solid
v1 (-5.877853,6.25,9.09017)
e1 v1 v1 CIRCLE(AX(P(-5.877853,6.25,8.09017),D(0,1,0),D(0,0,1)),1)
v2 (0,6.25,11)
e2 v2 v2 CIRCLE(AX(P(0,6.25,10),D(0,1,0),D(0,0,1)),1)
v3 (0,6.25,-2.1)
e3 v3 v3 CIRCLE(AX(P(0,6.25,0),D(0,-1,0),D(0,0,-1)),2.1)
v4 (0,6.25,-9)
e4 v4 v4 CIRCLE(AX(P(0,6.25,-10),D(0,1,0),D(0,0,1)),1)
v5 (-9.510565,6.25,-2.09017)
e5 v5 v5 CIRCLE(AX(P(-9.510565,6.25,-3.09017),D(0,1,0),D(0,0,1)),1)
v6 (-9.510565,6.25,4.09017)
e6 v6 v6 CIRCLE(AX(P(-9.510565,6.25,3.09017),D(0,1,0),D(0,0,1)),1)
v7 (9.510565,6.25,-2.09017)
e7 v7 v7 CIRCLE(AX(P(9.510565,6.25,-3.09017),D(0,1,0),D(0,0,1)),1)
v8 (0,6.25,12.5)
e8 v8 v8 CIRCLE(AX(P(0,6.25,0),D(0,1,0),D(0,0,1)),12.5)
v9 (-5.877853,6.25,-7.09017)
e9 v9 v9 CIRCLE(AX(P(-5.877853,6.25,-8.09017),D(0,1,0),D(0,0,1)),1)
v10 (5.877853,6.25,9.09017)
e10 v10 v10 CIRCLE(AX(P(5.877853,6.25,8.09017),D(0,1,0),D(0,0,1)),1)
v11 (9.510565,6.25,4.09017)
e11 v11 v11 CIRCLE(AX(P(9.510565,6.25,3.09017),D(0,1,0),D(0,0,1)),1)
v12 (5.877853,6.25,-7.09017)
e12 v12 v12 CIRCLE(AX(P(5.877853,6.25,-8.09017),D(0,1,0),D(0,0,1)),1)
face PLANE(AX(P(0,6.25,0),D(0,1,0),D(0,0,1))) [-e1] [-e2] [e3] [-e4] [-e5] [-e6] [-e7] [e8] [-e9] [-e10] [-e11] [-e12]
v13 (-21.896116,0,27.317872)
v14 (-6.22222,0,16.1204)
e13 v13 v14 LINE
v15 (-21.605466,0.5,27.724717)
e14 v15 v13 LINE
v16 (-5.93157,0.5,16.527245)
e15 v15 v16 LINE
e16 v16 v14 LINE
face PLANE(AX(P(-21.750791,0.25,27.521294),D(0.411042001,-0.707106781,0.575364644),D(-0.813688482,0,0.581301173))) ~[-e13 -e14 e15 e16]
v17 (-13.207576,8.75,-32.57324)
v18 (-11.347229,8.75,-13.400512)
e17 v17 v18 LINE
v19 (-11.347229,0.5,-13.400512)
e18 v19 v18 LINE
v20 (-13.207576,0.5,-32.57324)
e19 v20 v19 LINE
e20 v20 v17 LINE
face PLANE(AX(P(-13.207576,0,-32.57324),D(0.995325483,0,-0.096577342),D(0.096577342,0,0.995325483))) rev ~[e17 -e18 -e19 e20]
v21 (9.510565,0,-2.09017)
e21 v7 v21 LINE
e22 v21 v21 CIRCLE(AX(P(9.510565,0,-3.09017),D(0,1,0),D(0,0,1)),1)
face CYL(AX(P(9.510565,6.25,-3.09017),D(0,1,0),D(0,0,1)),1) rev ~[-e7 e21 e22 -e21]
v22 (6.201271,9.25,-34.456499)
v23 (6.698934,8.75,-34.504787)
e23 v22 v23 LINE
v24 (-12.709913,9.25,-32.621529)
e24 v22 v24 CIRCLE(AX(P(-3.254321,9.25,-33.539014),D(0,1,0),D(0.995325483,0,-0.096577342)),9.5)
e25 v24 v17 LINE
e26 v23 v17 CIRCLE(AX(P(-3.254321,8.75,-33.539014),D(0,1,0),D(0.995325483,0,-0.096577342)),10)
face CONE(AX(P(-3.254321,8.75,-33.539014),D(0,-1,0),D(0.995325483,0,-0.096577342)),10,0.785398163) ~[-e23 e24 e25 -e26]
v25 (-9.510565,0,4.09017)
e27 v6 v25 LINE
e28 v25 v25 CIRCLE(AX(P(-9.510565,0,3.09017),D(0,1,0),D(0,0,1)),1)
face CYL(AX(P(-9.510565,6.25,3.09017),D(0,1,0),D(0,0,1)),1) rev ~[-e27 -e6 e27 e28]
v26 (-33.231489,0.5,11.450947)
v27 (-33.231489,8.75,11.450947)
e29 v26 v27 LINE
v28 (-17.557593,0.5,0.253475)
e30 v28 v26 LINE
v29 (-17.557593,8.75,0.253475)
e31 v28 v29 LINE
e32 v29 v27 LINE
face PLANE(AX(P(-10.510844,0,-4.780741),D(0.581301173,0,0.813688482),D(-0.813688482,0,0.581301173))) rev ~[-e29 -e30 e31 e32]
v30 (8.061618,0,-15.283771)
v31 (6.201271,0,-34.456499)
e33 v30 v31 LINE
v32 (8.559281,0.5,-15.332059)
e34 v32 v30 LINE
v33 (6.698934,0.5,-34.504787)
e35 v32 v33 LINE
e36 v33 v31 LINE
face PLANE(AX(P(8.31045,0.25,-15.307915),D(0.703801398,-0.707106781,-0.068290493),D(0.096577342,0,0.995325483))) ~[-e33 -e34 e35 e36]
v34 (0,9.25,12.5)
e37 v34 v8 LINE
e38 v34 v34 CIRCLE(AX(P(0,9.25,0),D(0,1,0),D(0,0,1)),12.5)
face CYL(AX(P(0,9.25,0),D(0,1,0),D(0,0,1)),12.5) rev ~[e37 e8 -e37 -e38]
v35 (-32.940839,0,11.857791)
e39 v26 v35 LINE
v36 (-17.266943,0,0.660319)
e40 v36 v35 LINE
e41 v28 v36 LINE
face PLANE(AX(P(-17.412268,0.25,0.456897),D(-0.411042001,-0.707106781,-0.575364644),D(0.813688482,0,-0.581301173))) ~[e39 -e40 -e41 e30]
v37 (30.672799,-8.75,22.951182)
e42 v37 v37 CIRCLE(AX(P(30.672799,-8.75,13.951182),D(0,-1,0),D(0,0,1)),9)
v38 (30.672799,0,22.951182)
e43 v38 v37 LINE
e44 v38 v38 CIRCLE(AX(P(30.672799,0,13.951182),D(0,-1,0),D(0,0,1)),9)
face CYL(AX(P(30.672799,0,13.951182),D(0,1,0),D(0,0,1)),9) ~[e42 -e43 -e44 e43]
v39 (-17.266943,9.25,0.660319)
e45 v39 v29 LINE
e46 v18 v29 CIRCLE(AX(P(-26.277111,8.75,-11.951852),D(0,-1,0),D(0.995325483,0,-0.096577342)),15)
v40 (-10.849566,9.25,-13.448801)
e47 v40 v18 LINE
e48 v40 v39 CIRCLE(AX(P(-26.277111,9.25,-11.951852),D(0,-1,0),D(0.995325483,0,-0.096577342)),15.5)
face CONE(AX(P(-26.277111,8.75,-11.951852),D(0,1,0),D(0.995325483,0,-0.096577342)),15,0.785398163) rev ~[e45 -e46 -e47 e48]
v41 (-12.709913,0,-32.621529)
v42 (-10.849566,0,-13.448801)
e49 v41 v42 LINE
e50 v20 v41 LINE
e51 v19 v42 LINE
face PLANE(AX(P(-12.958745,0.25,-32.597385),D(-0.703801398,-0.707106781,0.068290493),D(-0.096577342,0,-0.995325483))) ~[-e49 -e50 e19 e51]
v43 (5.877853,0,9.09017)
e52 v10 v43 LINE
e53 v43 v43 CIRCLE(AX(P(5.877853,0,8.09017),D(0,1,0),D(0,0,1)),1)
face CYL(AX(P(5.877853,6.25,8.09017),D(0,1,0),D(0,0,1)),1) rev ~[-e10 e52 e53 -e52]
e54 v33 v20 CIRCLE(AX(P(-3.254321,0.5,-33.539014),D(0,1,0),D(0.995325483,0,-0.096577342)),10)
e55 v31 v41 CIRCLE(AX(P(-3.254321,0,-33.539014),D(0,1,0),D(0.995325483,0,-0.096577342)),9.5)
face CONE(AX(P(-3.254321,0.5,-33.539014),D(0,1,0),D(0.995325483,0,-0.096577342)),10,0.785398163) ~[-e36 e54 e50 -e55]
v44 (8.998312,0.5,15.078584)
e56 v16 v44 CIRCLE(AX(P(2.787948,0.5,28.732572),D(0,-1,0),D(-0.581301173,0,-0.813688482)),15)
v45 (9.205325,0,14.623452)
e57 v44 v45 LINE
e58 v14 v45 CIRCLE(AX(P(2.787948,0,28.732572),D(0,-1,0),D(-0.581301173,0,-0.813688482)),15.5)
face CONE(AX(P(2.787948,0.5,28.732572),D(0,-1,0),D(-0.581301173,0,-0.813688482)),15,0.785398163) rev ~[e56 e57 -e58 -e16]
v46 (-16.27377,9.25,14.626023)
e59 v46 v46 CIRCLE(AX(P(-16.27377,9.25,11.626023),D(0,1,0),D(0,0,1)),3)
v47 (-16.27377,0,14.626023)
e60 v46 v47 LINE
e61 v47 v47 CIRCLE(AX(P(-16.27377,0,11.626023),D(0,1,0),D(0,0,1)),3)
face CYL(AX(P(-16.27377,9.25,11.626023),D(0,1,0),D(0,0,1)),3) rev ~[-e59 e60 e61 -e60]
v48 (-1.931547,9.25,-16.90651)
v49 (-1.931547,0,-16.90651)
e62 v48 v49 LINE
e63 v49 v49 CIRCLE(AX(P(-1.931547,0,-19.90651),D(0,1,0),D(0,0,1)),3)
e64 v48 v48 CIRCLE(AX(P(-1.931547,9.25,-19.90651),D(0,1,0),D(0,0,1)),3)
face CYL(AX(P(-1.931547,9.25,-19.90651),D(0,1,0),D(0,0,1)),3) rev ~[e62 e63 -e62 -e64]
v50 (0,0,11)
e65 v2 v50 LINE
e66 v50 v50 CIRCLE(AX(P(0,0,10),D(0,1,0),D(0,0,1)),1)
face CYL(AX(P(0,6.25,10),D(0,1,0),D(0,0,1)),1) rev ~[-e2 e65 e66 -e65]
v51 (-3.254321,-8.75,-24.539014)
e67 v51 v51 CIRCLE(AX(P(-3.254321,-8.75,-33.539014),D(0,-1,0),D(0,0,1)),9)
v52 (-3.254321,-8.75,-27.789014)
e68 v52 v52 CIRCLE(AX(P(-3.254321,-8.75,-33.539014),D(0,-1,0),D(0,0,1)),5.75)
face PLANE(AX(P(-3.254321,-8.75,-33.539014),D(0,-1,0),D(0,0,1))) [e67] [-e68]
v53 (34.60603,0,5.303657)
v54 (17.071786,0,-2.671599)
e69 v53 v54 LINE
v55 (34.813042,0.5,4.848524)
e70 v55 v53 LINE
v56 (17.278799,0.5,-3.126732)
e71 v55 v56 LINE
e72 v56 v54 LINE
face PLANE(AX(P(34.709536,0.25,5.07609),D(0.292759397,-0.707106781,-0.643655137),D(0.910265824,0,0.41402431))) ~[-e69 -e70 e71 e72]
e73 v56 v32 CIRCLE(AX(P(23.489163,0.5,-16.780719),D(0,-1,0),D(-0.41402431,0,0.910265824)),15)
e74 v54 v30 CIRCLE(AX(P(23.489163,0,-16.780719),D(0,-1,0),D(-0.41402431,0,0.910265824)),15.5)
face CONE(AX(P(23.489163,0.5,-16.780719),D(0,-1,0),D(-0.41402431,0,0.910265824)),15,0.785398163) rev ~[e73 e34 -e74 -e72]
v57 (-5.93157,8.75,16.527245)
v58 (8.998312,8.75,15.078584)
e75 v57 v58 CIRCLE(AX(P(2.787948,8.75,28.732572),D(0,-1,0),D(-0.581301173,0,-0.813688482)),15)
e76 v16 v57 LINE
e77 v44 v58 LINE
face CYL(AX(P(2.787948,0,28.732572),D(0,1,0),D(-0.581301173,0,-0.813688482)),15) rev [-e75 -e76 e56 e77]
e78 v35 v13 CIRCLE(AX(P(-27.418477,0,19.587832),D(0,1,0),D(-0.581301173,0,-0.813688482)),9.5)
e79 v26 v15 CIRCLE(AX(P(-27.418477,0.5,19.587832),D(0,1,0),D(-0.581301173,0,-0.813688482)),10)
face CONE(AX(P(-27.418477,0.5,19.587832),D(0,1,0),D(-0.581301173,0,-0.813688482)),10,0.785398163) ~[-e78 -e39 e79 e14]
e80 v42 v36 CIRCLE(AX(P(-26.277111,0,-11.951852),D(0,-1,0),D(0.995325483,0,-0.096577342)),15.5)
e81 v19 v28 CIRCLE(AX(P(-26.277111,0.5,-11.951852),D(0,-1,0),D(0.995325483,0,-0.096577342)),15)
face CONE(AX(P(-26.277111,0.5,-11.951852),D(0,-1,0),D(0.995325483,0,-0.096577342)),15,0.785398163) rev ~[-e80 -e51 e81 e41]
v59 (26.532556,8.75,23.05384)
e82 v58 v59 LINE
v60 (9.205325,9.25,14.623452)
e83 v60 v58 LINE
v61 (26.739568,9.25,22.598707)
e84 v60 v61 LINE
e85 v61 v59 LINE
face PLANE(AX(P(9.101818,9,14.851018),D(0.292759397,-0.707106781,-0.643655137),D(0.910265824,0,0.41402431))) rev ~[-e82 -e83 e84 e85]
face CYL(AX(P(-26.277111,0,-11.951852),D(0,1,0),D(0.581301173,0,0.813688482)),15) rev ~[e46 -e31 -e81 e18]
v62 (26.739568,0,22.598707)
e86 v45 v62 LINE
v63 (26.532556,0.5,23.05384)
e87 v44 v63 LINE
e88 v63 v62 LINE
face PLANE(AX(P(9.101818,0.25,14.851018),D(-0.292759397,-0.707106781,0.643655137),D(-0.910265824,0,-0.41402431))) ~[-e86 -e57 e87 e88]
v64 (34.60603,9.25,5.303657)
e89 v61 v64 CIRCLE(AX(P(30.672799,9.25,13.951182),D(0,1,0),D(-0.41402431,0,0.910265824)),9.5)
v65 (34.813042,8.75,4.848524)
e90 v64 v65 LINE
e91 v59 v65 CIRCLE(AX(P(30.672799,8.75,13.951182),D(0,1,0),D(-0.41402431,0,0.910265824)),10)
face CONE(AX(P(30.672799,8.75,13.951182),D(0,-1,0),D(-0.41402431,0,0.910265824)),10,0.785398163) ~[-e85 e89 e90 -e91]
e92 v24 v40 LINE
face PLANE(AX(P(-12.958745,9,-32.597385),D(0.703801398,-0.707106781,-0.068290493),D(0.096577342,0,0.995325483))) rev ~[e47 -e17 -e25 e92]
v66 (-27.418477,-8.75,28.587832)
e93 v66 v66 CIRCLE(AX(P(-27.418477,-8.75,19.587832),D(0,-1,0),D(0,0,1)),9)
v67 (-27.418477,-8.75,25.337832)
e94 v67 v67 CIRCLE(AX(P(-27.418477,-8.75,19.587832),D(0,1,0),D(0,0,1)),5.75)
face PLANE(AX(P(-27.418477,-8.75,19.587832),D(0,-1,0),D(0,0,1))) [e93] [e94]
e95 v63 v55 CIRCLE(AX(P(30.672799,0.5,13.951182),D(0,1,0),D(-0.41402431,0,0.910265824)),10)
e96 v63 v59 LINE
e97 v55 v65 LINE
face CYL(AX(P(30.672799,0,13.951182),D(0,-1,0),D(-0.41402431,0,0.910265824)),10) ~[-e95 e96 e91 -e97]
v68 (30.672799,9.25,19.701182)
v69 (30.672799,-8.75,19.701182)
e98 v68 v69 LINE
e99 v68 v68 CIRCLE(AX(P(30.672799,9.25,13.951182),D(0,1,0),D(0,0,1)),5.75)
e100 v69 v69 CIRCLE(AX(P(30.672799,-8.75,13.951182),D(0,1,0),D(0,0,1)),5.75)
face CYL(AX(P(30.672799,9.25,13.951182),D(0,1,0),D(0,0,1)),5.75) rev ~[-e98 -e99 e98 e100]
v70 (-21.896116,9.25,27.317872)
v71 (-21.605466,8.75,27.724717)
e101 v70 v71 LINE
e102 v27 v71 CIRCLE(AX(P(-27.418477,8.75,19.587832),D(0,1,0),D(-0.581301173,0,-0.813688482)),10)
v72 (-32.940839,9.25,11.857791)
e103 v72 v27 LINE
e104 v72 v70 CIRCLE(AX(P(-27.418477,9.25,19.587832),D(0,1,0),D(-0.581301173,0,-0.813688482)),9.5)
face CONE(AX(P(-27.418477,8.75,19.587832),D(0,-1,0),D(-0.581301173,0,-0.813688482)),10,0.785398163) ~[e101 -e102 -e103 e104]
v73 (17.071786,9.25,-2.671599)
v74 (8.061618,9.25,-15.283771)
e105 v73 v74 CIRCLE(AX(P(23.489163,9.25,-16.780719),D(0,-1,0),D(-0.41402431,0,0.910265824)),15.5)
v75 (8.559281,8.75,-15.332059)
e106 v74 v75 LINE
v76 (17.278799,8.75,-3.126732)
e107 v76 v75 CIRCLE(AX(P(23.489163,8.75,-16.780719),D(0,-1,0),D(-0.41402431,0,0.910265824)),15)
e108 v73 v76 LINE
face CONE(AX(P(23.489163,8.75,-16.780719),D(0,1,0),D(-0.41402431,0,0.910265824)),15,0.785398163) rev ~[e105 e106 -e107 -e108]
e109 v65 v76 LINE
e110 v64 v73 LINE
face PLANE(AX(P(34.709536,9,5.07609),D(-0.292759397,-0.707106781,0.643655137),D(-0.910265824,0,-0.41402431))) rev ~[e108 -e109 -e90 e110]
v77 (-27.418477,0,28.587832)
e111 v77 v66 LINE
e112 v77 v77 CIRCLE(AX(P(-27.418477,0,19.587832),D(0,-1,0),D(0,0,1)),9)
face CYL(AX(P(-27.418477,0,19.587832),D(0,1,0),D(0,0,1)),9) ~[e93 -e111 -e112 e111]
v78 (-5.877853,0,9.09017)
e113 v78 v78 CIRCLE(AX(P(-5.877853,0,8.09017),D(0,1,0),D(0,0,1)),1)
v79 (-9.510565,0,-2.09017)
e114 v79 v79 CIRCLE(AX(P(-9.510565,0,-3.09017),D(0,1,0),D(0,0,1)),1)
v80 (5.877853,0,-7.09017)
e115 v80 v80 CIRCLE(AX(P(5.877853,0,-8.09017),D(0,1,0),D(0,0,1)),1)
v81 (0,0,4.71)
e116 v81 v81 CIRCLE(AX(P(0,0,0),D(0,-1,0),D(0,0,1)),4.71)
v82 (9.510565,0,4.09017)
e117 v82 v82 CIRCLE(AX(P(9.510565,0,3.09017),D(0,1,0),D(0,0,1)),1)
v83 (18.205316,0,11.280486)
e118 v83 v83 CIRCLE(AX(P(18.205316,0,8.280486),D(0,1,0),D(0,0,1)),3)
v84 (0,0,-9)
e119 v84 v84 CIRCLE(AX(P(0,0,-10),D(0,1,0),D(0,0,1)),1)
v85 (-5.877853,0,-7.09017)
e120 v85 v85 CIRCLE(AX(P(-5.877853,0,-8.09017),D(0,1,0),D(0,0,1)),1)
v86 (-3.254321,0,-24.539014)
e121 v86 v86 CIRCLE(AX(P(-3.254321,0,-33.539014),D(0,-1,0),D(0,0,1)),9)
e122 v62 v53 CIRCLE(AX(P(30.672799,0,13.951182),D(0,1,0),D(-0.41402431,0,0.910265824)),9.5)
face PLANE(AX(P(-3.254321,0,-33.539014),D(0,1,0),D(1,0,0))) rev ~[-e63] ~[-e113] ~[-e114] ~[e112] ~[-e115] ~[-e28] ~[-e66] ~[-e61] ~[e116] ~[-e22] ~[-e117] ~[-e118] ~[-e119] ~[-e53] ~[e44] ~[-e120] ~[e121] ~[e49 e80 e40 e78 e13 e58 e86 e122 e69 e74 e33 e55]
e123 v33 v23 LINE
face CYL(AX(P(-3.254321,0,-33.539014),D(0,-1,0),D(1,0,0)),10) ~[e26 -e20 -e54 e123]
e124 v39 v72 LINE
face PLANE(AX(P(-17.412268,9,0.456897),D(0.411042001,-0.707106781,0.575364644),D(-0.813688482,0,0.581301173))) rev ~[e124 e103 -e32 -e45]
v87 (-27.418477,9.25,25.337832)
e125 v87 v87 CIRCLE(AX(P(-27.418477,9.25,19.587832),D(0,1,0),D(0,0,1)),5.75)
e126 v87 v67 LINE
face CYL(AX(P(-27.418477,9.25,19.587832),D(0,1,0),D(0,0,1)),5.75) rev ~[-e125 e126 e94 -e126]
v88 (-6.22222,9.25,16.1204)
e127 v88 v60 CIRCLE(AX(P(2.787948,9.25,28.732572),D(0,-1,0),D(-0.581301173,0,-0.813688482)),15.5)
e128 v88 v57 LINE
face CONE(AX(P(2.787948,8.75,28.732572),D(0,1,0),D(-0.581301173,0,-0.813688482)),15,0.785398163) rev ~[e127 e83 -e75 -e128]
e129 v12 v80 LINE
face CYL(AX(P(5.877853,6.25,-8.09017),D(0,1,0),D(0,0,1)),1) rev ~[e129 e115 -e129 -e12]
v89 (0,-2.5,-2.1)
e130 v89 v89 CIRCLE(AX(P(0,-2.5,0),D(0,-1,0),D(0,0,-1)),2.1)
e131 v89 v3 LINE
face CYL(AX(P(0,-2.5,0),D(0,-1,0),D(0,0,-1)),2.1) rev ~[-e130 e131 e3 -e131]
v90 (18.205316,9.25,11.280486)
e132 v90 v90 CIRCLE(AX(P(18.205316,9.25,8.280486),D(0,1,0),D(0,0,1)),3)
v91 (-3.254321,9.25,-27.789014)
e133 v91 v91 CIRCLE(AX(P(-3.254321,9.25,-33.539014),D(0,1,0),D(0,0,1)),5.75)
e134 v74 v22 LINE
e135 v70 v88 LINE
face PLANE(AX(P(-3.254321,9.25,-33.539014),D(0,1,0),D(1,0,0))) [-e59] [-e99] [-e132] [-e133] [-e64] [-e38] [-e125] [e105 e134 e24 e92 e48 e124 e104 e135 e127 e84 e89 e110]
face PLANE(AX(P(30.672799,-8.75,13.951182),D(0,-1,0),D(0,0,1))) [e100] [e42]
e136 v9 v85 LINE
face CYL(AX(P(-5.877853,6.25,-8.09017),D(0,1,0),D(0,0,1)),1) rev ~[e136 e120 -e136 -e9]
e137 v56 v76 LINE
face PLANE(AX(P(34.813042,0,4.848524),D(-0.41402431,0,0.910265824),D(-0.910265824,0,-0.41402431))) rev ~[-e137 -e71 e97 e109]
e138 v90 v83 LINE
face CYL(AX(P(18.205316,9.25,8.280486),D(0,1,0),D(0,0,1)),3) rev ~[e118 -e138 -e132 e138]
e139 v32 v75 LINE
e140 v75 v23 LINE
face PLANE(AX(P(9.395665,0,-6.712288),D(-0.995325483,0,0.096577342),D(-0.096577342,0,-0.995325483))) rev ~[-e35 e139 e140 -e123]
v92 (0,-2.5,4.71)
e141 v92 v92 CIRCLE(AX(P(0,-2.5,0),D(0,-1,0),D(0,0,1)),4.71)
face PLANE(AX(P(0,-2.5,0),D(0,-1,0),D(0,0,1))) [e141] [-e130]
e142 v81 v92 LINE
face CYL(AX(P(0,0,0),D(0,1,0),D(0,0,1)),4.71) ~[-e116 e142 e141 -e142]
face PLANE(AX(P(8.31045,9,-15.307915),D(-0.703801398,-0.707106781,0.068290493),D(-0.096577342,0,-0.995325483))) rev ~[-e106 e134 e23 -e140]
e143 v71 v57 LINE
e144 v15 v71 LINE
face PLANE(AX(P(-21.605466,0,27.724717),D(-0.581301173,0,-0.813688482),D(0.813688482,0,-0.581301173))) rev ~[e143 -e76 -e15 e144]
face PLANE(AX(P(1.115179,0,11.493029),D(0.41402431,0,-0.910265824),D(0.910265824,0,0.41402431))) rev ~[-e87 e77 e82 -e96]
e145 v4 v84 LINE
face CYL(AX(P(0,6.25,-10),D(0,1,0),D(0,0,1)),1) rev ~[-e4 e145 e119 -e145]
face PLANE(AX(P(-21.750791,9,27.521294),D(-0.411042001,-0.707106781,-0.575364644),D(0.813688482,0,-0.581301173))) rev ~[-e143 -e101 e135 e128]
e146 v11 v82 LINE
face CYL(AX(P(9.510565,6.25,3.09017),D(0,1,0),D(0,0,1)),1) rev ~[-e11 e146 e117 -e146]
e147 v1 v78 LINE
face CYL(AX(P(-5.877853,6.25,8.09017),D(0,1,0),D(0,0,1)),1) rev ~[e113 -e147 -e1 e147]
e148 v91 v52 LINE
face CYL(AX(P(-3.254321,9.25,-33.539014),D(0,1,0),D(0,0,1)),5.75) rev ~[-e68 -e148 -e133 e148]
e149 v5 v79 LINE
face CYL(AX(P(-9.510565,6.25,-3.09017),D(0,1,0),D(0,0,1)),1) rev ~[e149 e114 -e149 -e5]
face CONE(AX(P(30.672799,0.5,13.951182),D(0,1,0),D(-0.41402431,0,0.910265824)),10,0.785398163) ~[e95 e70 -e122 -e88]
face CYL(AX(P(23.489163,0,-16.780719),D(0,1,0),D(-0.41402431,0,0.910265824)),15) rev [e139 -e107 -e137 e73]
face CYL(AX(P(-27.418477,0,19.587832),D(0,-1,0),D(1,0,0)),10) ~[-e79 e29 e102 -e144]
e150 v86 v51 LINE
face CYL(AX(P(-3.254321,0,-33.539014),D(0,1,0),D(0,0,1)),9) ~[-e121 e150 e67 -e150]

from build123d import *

# Parameters (mm, degrees)
SKETCH_1_R           = 10
EXTRUDE_1_DEPTH      = 9.25
CUT_EXTRUDE_1_REACH  = 62.295
SKETCH_2_R           = 4.5
SKETCH_3_R           = 9
EXTRUDE_2_DEPTH      = 9.5
CUT_EXTRUDE_2_REACH  = 62.334
SKETCH_4_R           = 4.5
FILLET_1_R           = 15
SKETCH_6_R           = 12.5
CUT_EXTRUDE_5_DEPTH  = 3
CHAMFER_1_SIZE       = 0.5
CHAMFER_2_SIZE       = 0.5
SKETCH_7_R           = 4.71
EXTRUDE_3_DEPTH      = 2.5
CUT_EXTRUDE_6_REACH  = 63.628
SKETCH_8_R           = 1
CUT_EXTRUDE_7_REACH  = 62.729
SKETCH_9_R           = 2.1
CUT_EXTRUDE_9_REACH  = 64.462
SKETCH_10_R          = 3
CUT_EXTRUDE_10_REACH = 64.462
SKETCH_11_R          = 5.75
CUT_EXTRUDE_START    = -0.75
SKETCH_12_R          = 9
SKETCH_12_R_2        = 5.75
CUT_EXTRUDE_11_DEPTH = 0.75


with BuildPart() as part:
    # ｽｹｯﾁ1 → ﾎﾞｽ - 押し出し1 (new body)
    with BuildSketch(Plane(origin=(0, 0, 0), x_dir=(1, 0, 0), z_dir=(0, 1, 0))):
        with Locations((-3.254321183, 33.539013848)):
            Circle(SKETCH_1_R)
        with BuildLine():
            ThreePointArc((6.745678817, 33.539013848), (-2.770869168, 23.550706977), (-13.207576013, 32.57324043))
            Line((-13.207576013, 32.57324043), (-10.510844372, 4.780740937))
            Line((-10.510844372, 4.780740937), (-33.231489148, -11.450946917))
            ThreePointArc((-33.231489148, -11.450946917), (-22.84300571, -10.695978242), (-17.418477419, -19.587831741))
            ThreePointArc((-17.418477419, -19.587831741), (-18.52662392, -24.163303449), (-21.60546569, -27.724716565))
            Line((-21.60546569, -27.724716565), (1.115179086, -11.493028711))
            Line((1.115179086, -11.493028711), (26.532555501, -23.053840349))
            ThreePointArc((26.532555501, -23.053840349), (21.57014036, -9.810939007), (34.813041703, -4.848523866))
            Line((34.813041703, -4.848523866), (9.395665287, 6.712287773))
            Line((9.395665287, 6.712287773), (6.698933646, 34.504787266))
            ThreePointArc((6.698933646, 34.504787266), (6.733985688, 34.022465864), (6.745678817, 33.539013848))
        make_face()
        with Locations((30.672798602, -13.951182107)):
            Circle(SKETCH_1_R)
        with Locations((-27.418477419, -19.587831741)):
            Circle(SKETCH_1_R)
    extrude(amount=EXTRUDE_1_DEPTH)

    # ｽｹｯﾁ2 → ｶｯﾄ - 押し出し1 (cut, up to next)
    with BuildSketch(Plane(origin=(0, 9.25, 0), x_dir=(1, 0, 0), z_dir=(0, 1, 0)), mode=Mode.PRIVATE) as cut_extrude_1_sk1:
        with Locations(Location((-27.418477419, -19.587831741, 0), (0, 0, 270))):
            Circle(SKETCH_2_R)
    cut_extrude_1_tool1 = extrude(cut_extrude_1_sk1.sketch, amount=-CUT_EXTRUDE_1_REACH, mode=Mode.PRIVATE) & part.part
    # ｽｹｯﾁ2 → ｶｯﾄ - 押し出し1 (cut, up to next)
    with BuildSketch(Plane(origin=(0, 9.25, 0), x_dir=(1, 0, 0), z_dir=(0, 1, 0)), mode=Mode.PRIVATE) as cut_extrude_1_sk2:
        with Locations(Location((-3.254321183, 33.539013848, 0), (0, 0, 270))):
            Circle(SKETCH_2_R)
    cut_extrude_1_tool2 = extrude(cut_extrude_1_sk2.sketch, amount=-CUT_EXTRUDE_1_REACH, mode=Mode.PRIVATE) & part.part
    # ｽｹｯﾁ2 → ｶｯﾄ - 押し出し1 (cut, up to next)
    with BuildSketch(Plane(origin=(0, 9.25, 0), x_dir=(1, 0, 0), z_dir=(0, 1, 0)), mode=Mode.PRIVATE) as cut_extrude_1_sk3:
        with Locations(Location((30.672798602, -13.951182107, 0), (0, 0, 270))):
            Circle(SKETCH_2_R)
    cut_extrude_1_tool3 = extrude(cut_extrude_1_sk3.sketch, amount=-CUT_EXTRUDE_1_REACH, mode=Mode.PRIVATE) & part.part
    add(cut_extrude_1_tool1.solids().sort_by_distance((-27.418477, 9.25, 19.587832))[0], mode=Mode.SUBTRACT)
    add(cut_extrude_1_tool2.solids().sort_by_distance((-3.254321, 9.25, -33.539014))[0], mode=Mode.SUBTRACT)
    add(cut_extrude_1_tool3.solids().sort_by_distance((30.672799, 9.25, 13.951182))[0], mode=Mode.SUBTRACT)

    # ｽｹｯﾁ3 → ﾎﾞｽ - 押し出し2 (add)
    with BuildSketch(Plane.XZ):
        with Locations(Location((-3.254321183, -33.539013848, 0), (0, 0, 90))):
            Circle(SKETCH_3_R)
        with Locations(Location((-27.418477419, 19.587831741, 0), (0, 0, 90))):
            Circle(SKETCH_3_R)
        with Locations(Location((30.672798602, 13.951182107, 0), (0, 0, 90))):
            Circle(SKETCH_3_R)
    extrude(amount=EXTRUDE_2_DEPTH)

    # ｽｹｯﾁ4 → ｶｯﾄ - 押し出し2 (cut, up to next)
    with BuildSketch(Plane(origin=(0, 0, 0), x_dir=(1, 0, 0), z_dir=(0, 1, 0)), mode=Mode.PRIVATE) as cut_extrude_2_sk1:
        with Locations(Location((-3.254321183, 33.539013848, 0), (0, 0, 270))):
            Circle(SKETCH_4_R)
    cut_extrude_2_tool1 = extrude(cut_extrude_2_sk1.sketch, amount=-CUT_EXTRUDE_2_REACH, mode=Mode.PRIVATE) & part.part
    # ｽｹｯﾁ4 → ｶｯﾄ - 押し出し2 (cut, up to next)
    with BuildSketch(Plane(origin=(0, 0, 0), x_dir=(1, 0, 0), z_dir=(0, 1, 0)), mode=Mode.PRIVATE) as cut_extrude_2_sk2:
        with Locations(Location((30.672798602, -13.951182107, 0), (0, 0, 270))):
            Circle(SKETCH_4_R)
    cut_extrude_2_tool2 = extrude(cut_extrude_2_sk2.sketch, amount=-CUT_EXTRUDE_2_REACH, mode=Mode.PRIVATE) & part.part
    # ｽｹｯﾁ4 → ｶｯﾄ - 押し出し2 (cut, up to next)
    with BuildSketch(Plane(origin=(0, 0, 0), x_dir=(1, 0, 0), z_dir=(0, 1, 0)), mode=Mode.PRIVATE) as cut_extrude_2_sk3:
        with Locations(Location((-27.418477419, -19.587831741, 0), (0, 0, 270))):
            Circle(SKETCH_4_R)
    cut_extrude_2_tool3 = extrude(cut_extrude_2_sk3.sketch, amount=-CUT_EXTRUDE_2_REACH, mode=Mode.PRIVATE) & part.part
    add(cut_extrude_2_tool1.solids().sort_by_distance((-3.254321, 0, -33.539014))[0], mode=Mode.SUBTRACT)
    add(cut_extrude_2_tool2.solids().sort_by_distance((30.672799, 0, 13.951182))[0], mode=Mode.SUBTRACT)
    add(cut_extrude_2_tool3.solids().sort_by_distance((-27.418477, 0, 19.587832))[0], mode=Mode.SUBTRACT)

    # ﾌｨﾚｯﾄ1
    fillet_1_edges = [part.edges().sort_by_distance(p)[0] for p in [
        (9.395665287, 4.625, -6.712287773),
        (1.115179086, 4.625, 11.493028711),
        (-10.510844372, 4.625, -4.780740937),
    ]]
    fillet(fillet_1_edges, radius=FILLET_1_R)

    # ｽｹｯﾁ6 → ｶｯﾄ - 押し出し5 (cut)
    with BuildSketch(Plane(origin=(0, 9.25, 0), x_dir=(1, 0, 0), z_dir=(0, 1, 0))):
        with Locations(Location((0, 0, 0), (0, 0, 270))):
            Circle(SKETCH_6_R)
    extrude(amount=-CUT_EXTRUDE_5_DEPTH, mode=Mode.SUBTRACT)

    # 面取り1
    chamfer_1_edges = [part.edges().sort_by_distance(p)[0] for p in [
        (-12.27740235, 9.25, -22.98687645),
        (-25.394541243, 9.25, 5.852210905),
        (-35.555362243, 9.25, 25.40084347),
        (-13.768517785, 9.25, 22.125980553),
        (17.765433933, 9.25, 19.066212381),
        (39.775456844, 9.25, 18.091425208),
        (26.045920135, 9.25, 0.860895898),
        (7.62910731, 9.25, -24.918423286),
        (-4.220094601, 9.25, -43.492268678),
        (11.283835981, 9.25, -8.061201839),
        (1.339287587, 9.25, 13.802689532),
        (-12.623123569, 9.25, -5.741487692),
    ]]
    chamfer(chamfer_1_edges, length=CHAMFER_1_SIZE)

    # 面取り2
    chamfer_2_edges = [part.edges().sort_by_distance(p)[0] for p in [
        (39.775456844, 0, 18.091425208),
        (17.765433933, 0, 19.066212381),
        (-13.768517785, 0, 22.125980553),
        (-35.555362243, 0, 25.40084347),
        (-25.394541243, 0, 5.852210905),
        (-12.27740235, 0, -22.98687645),
        (-4.220094601, 0, -43.492268678),
        (7.62910731, 0, -24.918423286),
        (11.283835981, 0, -8.061201839),
        (1.339287587, 0, 13.802689532),
        (-12.623123569, 0, -5.741487692),
        (26.045920135, 0, 0.860895898),
    ]]
    chamfer(chamfer_2_edges, length=CHAMFER_2_SIZE)

    # ｽｹｯﾁ7 → ﾎﾞｽ - 押し出し3 (add)
    with BuildSketch(Plane.XZ):
        with Locations(Location((0, 0, 0), (0, 0, 90))):
            Circle(SKETCH_7_R)
    extrude(amount=EXTRUDE_3_DEPTH)

    # ｽｹｯﾁ8 → ｶｯﾄ - 押し出し6 (cut, up to next)
    with BuildSketch(Plane(origin=(0, 6.25, 0), x_dir=(1, 0, 0), z_dir=(0, 1, 0)), mode=Mode.PRIVATE) as cut_extrude_6_sk1:
        with Locations(Location((0, 10, 0), (0, 0, 270))):
            Circle(SKETCH_8_R)
    cut_extrude_6_tool1 = extrude(cut_extrude_6_sk1.sketch, amount=-CUT_EXTRUDE_6_REACH, mode=Mode.PRIVATE) & part.part
    # ｽｹｯﾁ8 → ｶｯﾄ - 押し出し6 (cut, up to next)
    with BuildSketch(Plane(origin=(0, 6.25, 0), x_dir=(1, 0, 0), z_dir=(0, 1, 0)), mode=Mode.PRIVATE) as cut_extrude_6_sk2:
        with Locations(Location((5.877852523, 8.090169944, 0), (0, 0, 270))):
            Circle(SKETCH_8_R)
    cut_extrude_6_tool2 = extrude(cut_extrude_6_sk2.sketch, amount=-CUT_EXTRUDE_6_REACH, mode=Mode.PRIVATE) & part.part
    # ｽｹｯﾁ8 → ｶｯﾄ - 押し出し6 (cut, up to next)
    with BuildSketch(Plane(origin=(0, 6.25, 0), x_dir=(1, 0, 0), z_dir=(0, 1, 0)), mode=Mode.PRIVATE) as cut_extrude_6_sk3:
        with Locations(Location((9.510565163, 3.090169944, 0), (0, 0, 270))):
            Circle(SKETCH_8_R)
    cut_extrude_6_tool3 = extrude(cut_extrude_6_sk3.sketch, amount=-CUT_EXTRUDE_6_REACH, mode=Mode.PRIVATE) & part.part
    # ｽｹｯﾁ8 → ｶｯﾄ - 押し出し6 (cut, up to next)
    with BuildSketch(Plane(origin=(0, 6.25, 0), x_dir=(1, 0, 0), z_dir=(0, 1, 0)), mode=Mode.PRIVATE) as cut_extrude_6_sk4:
        with Locations(Location((9.510565163, -3.090169944, 0), (0, 0, 270))):
            Circle(SKETCH_8_R)
    cut_extrude_6_tool4 = extrude(cut_extrude_6_sk4.sketch, amount=-CUT_EXTRUDE_6_REACH, mode=Mode.PRIVATE) & part.part
    # ｽｹｯﾁ8 → ｶｯﾄ - 押し出し6 (cut, up to next)
    with BuildSketch(Plane(origin=(0, 6.25, 0), x_dir=(1, 0, 0), z_dir=(0, 1, 0)), mode=Mode.PRIVATE) as cut_extrude_6_sk5:
        with Locations(Location((5.877852523, -8.090169944, 0), (0, 0, 270))):
            Circle(SKETCH_8_R)
    cut_extrude_6_tool5 = extrude(cut_extrude_6_sk5.sketch, amount=-CUT_EXTRUDE_6_REACH, mode=Mode.PRIVATE) & part.part
    # ｽｹｯﾁ8 → ｶｯﾄ - 押し出し6 (cut, up to next)
    with BuildSketch(Plane(origin=(0, 6.25, 0), x_dir=(1, 0, 0), z_dir=(0, 1, 0)), mode=Mode.PRIVATE) as cut_extrude_6_sk6:
        with Locations(Location((0, -10, 0), (0, 0, 270))):
            Circle(SKETCH_8_R)
    cut_extrude_6_tool6 = extrude(cut_extrude_6_sk6.sketch, amount=-CUT_EXTRUDE_6_REACH, mode=Mode.PRIVATE) & part.part
    # ｽｹｯﾁ8 → ｶｯﾄ - 押し出し6 (cut, up to next)
    with BuildSketch(Plane(origin=(0, 6.25, 0), x_dir=(1, 0, 0), z_dir=(0, 1, 0)), mode=Mode.PRIVATE) as cut_extrude_6_sk7:
        with Locations(Location((-5.877852523, -8.090169944, 0), (0, 0, 270))):
            Circle(SKETCH_8_R)
    cut_extrude_6_tool7 = extrude(cut_extrude_6_sk7.sketch, amount=-CUT_EXTRUDE_6_REACH, mode=Mode.PRIVATE) & part.part
    # ｽｹｯﾁ8 → ｶｯﾄ - 押し出し6 (cut, up to next)
    with BuildSketch(Plane(origin=(0, 6.25, 0), x_dir=(1, 0, 0), z_dir=(0, 1, 0)), mode=Mode.PRIVATE) as cut_extrude_6_sk8:
        with Locations(Location((-9.510565163, -3.090169944, 0), (0, 0, 270))):
            Circle(SKETCH_8_R)
    cut_extrude_6_tool8 = extrude(cut_extrude_6_sk8.sketch, amount=-CUT_EXTRUDE_6_REACH, mode=Mode.PRIVATE) & part.part
    # ｽｹｯﾁ8 → ｶｯﾄ - 押し出し6 (cut, up to next)
    with BuildSketch(Plane(origin=(0, 6.25, 0), x_dir=(1, 0, 0), z_dir=(0, 1, 0)), mode=Mode.PRIVATE) as cut_extrude_6_sk9:
        with Locations(Location((-9.510565163, 3.090169944, 0), (0, 0, 270))):
            Circle(SKETCH_8_R)
    cut_extrude_6_tool9 = extrude(cut_extrude_6_sk9.sketch, amount=-CUT_EXTRUDE_6_REACH, mode=Mode.PRIVATE) & part.part
    # ｽｹｯﾁ8 → ｶｯﾄ - 押し出し6 (cut, up to next)
    with BuildSketch(Plane(origin=(0, 6.25, 0), x_dir=(1, 0, 0), z_dir=(0, 1, 0)), mode=Mode.PRIVATE) as cut_extrude_6_sk10:
        with Locations(Location((-5.877852523, 8.090169944, 0), (0, 0, 270))):
            Circle(SKETCH_8_R)
    cut_extrude_6_tool10 = extrude(cut_extrude_6_sk10.sketch, amount=-CUT_EXTRUDE_6_REACH, mode=Mode.PRIVATE) & part.part
    add(cut_extrude_6_tool1.solids().sort_by_distance((0, 6.25, -10))[0], mode=Mode.SUBTRACT)
    add(cut_extrude_6_tool2.solids().sort_by_distance((5.877853, 6.25, -8.09017))[0], mode=Mode.SUBTRACT)
    add(cut_extrude_6_tool3.solids().sort_by_distance((9.510565, 6.25, -3.09017))[0], mode=Mode.SUBTRACT)
    add(cut_extrude_6_tool4.solids().sort_by_distance((9.510565, 6.25, 3.09017))[0], mode=Mode.SUBTRACT)
    add(cut_extrude_6_tool5.solids().sort_by_distance((5.877853, 6.25, 8.09017))[0], mode=Mode.SUBTRACT)
    add(cut_extrude_6_tool6.solids().sort_by_distance((0, 6.25, 10))[0], mode=Mode.SUBTRACT)
    add(cut_extrude_6_tool7.solids().sort_by_distance((-5.877853, 6.25, 8.09017))[0], mode=Mode.SUBTRACT)
    add(cut_extrude_6_tool8.solids().sort_by_distance((-9.510565, 6.25, 3.09017))[0], mode=Mode.SUBTRACT)
    add(cut_extrude_6_tool9.solids().sort_by_distance((-9.510565, 6.25, -3.09017))[0], mode=Mode.SUBTRACT)
    add(cut_extrude_6_tool10.solids().sort_by_distance((-5.877853, 6.25, -8.09017))[0], mode=Mode.SUBTRACT)

    # ｽｹｯﾁ9 → ｶｯﾄ - 押し出し7 (cut, up to next)
    with BuildSketch(Plane.XZ.offset(2.5), mode=Mode.PRIVATE) as cut_extrude_7_sk1:
        with Locations(Location((0, 0, 0), (0, 0, 270))):
            Circle(SKETCH_9_R)
    cut_extrude_7_tool1 = extrude(cut_extrude_7_sk1.sketch, amount=-CUT_EXTRUDE_7_REACH, mode=Mode.PRIVATE) & part.part
    add(cut_extrude_7_tool1.solids().sort_by_distance((0, -2.5, 0))[0], mode=Mode.SUBTRACT)

    # ｽｹｯﾁ10 → ｶｯﾄ - 押し出し9 (cut, up to next)
    with BuildSketch(Plane(origin=(0, 9.25, 0), x_dir=(1, 0, 0), z_dir=(0, 1, 0)), mode=Mode.PRIVATE) as cut_extrude_9_sk1:
        with Locations(Location((-1.931546836, 19.906509659, 0), (0, 0, 270))):
            Circle(SKETCH_10_R)
    cut_extrude_9_tool1 = extrude(cut_extrude_9_sk1.sketch, amount=-CUT_EXTRUDE_9_REACH, mode=Mode.PRIVATE) & part.part
    # ｽｹｯﾁ10 → ｶｯﾄ - 押し出し9 (cut, up to next)
    with BuildSketch(Plane(origin=(0, 9.25, 0), x_dir=(1, 0, 0), z_dir=(0, 1, 0)), mode=Mode.PRIVATE) as cut_extrude_9_sk2:
        with Locations(Location((18.205316484, -8.280486201, 0), (0, 0, 270))):
            Circle(SKETCH_10_R)
    cut_extrude_9_tool2 = extrude(cut_extrude_9_sk2.sketch, amount=-CUT_EXTRUDE_9_REACH, mode=Mode.PRIVATE) & part.part
    # ｽｹｯﾁ10 → ｶｯﾄ - 押し出し9 (cut, up to next)
    with BuildSketch(Plane(origin=(0, 9.25, 0), x_dir=(1, 0, 0), z_dir=(0, 1, 0)), mode=Mode.PRIVATE) as cut_extrude_9_sk3:
        with Locations(Location((-16.273769648, -11.626023458, 0), (0, 0, 270))):
            Circle(SKETCH_10_R)
    cut_extrude_9_tool3 = extrude(cut_extrude_9_sk3.sketch, amount=-CUT_EXTRUDE_9_REACH, mode=Mode.PRIVATE) & part.part
    add(cut_extrude_9_tool1.solids().sort_by_distance((-1.931547, 9.25, -19.90651))[0], mode=Mode.SUBTRACT)
    add(cut_extrude_9_tool2.solids().sort_by_distance((18.205316, 9.25, 8.280486))[0], mode=Mode.SUBTRACT)
    add(cut_extrude_9_tool3.solids().sort_by_distance((-16.27377, 9.25, 11.626023))[0], mode=Mode.SUBTRACT)

    # ｽｹｯﾁ11 → ｶｯﾄ - 押し出し10 (cut, up to next)
    with BuildSketch(Plane(origin=(0, 9.25, 0), x_dir=(1, 0, 0), z_dir=(0, 1, 0)), mode=Mode.PRIVATE) as cut_extrude_10_sk1:
        with Locations(Location((-3.254321183, 33.539013848, 0), (0, 0, 270))):
            Circle(SKETCH_11_R)
    cut_extrude_10_tool1 = extrude(cut_extrude_10_sk1.sketch, amount=-CUT_EXTRUDE_10_REACH, mode=Mode.PRIVATE) & part.part
    # ｽｹｯﾁ11 → ｶｯﾄ - 押し出し10 (cut, up to next)
    with BuildSketch(Plane(origin=(0, 9.25, 0), x_dir=(1, 0, 0), z_dir=(0, 1, 0)), mode=Mode.PRIVATE) as cut_extrude_10_sk2:
        with Locations(Location((30.672798602, -13.951182107, 0), (0, 0, 270))):
            Circle(SKETCH_11_R)
    cut_extrude_10_tool2 = extrude(cut_extrude_10_sk2.sketch, amount=-CUT_EXTRUDE_10_REACH, mode=Mode.PRIVATE) & part.part
    # ｽｹｯﾁ11 → ｶｯﾄ - 押し出し10 (cut, up to next)
    with BuildSketch(Plane(origin=(0, 9.25, 0), x_dir=(1, 0, 0), z_dir=(0, 1, 0)), mode=Mode.PRIVATE) as cut_extrude_10_sk3:
        with Locations(Location((-27.418477419, -19.587831741, 0), (0, 0, 270))):
            Circle(SKETCH_11_R)
    cut_extrude_10_tool3 = extrude(cut_extrude_10_sk3.sketch, amount=-CUT_EXTRUDE_10_REACH, mode=Mode.PRIVATE) & part.part
    add(cut_extrude_10_tool1.solids().sort_by_distance((-3.254321, 9.25, -33.539014))[0], mode=Mode.SUBTRACT)
    add(cut_extrude_10_tool2.solids().sort_by_distance((30.672799, 9.25, 13.951182))[0], mode=Mode.SUBTRACT)
    add(cut_extrude_10_tool3.solids().sort_by_distance((-27.418477, 9.25, 19.587832))[0], mode=Mode.SUBTRACT)

    # ｽｹｯﾁ12 → ｶｯﾄ - 押し出し11 (cut)
    # profile 1 of 3: a face of its own
    with BuildSketch(Plane(origin=(0, -9.5, 0), x_dir=(-1, 0, 0), z_dir=(0, -1, 0)).offset(CUT_EXTRUDE_START)):
        with Locations(Location((3.254321183, 33.539013848, 0), (0, 0, 270))):
            Circle(SKETCH_12_R)
        with Locations(Location((3.254321183, 33.539013848, 0), (0, 0, 270))):
            Circle(SKETCH_12_R_2, mode=Mode.SUBTRACT)
    # profile 2 of 3: a face of its own
    with BuildSketch(Plane(origin=(0, -9.5, 0), x_dir=(-1, 0, 0), z_dir=(0, -1, 0)).offset(CUT_EXTRUDE_START)):
        with Locations(Location((27.418477419, -19.587831741, 0), (0, 0, 270))):
            Circle(SKETCH_12_R)
    # profile 3 of 3: a face of its own
    with BuildSketch(Plane(origin=(0, -9.5, 0), x_dir=(-1, 0, 0), z_dir=(0, -1, 0)).offset(CUT_EXTRUDE_START)):
        with Locations(Location((-30.672798602, -13.951182107, 0), (0, 0, 270))):
            Circle(SKETCH_12_R)
    extrude(amount=CUT_EXTRUDE_11_DEPTH, mode=Mode.SUBTRACT)


solid = part.part
